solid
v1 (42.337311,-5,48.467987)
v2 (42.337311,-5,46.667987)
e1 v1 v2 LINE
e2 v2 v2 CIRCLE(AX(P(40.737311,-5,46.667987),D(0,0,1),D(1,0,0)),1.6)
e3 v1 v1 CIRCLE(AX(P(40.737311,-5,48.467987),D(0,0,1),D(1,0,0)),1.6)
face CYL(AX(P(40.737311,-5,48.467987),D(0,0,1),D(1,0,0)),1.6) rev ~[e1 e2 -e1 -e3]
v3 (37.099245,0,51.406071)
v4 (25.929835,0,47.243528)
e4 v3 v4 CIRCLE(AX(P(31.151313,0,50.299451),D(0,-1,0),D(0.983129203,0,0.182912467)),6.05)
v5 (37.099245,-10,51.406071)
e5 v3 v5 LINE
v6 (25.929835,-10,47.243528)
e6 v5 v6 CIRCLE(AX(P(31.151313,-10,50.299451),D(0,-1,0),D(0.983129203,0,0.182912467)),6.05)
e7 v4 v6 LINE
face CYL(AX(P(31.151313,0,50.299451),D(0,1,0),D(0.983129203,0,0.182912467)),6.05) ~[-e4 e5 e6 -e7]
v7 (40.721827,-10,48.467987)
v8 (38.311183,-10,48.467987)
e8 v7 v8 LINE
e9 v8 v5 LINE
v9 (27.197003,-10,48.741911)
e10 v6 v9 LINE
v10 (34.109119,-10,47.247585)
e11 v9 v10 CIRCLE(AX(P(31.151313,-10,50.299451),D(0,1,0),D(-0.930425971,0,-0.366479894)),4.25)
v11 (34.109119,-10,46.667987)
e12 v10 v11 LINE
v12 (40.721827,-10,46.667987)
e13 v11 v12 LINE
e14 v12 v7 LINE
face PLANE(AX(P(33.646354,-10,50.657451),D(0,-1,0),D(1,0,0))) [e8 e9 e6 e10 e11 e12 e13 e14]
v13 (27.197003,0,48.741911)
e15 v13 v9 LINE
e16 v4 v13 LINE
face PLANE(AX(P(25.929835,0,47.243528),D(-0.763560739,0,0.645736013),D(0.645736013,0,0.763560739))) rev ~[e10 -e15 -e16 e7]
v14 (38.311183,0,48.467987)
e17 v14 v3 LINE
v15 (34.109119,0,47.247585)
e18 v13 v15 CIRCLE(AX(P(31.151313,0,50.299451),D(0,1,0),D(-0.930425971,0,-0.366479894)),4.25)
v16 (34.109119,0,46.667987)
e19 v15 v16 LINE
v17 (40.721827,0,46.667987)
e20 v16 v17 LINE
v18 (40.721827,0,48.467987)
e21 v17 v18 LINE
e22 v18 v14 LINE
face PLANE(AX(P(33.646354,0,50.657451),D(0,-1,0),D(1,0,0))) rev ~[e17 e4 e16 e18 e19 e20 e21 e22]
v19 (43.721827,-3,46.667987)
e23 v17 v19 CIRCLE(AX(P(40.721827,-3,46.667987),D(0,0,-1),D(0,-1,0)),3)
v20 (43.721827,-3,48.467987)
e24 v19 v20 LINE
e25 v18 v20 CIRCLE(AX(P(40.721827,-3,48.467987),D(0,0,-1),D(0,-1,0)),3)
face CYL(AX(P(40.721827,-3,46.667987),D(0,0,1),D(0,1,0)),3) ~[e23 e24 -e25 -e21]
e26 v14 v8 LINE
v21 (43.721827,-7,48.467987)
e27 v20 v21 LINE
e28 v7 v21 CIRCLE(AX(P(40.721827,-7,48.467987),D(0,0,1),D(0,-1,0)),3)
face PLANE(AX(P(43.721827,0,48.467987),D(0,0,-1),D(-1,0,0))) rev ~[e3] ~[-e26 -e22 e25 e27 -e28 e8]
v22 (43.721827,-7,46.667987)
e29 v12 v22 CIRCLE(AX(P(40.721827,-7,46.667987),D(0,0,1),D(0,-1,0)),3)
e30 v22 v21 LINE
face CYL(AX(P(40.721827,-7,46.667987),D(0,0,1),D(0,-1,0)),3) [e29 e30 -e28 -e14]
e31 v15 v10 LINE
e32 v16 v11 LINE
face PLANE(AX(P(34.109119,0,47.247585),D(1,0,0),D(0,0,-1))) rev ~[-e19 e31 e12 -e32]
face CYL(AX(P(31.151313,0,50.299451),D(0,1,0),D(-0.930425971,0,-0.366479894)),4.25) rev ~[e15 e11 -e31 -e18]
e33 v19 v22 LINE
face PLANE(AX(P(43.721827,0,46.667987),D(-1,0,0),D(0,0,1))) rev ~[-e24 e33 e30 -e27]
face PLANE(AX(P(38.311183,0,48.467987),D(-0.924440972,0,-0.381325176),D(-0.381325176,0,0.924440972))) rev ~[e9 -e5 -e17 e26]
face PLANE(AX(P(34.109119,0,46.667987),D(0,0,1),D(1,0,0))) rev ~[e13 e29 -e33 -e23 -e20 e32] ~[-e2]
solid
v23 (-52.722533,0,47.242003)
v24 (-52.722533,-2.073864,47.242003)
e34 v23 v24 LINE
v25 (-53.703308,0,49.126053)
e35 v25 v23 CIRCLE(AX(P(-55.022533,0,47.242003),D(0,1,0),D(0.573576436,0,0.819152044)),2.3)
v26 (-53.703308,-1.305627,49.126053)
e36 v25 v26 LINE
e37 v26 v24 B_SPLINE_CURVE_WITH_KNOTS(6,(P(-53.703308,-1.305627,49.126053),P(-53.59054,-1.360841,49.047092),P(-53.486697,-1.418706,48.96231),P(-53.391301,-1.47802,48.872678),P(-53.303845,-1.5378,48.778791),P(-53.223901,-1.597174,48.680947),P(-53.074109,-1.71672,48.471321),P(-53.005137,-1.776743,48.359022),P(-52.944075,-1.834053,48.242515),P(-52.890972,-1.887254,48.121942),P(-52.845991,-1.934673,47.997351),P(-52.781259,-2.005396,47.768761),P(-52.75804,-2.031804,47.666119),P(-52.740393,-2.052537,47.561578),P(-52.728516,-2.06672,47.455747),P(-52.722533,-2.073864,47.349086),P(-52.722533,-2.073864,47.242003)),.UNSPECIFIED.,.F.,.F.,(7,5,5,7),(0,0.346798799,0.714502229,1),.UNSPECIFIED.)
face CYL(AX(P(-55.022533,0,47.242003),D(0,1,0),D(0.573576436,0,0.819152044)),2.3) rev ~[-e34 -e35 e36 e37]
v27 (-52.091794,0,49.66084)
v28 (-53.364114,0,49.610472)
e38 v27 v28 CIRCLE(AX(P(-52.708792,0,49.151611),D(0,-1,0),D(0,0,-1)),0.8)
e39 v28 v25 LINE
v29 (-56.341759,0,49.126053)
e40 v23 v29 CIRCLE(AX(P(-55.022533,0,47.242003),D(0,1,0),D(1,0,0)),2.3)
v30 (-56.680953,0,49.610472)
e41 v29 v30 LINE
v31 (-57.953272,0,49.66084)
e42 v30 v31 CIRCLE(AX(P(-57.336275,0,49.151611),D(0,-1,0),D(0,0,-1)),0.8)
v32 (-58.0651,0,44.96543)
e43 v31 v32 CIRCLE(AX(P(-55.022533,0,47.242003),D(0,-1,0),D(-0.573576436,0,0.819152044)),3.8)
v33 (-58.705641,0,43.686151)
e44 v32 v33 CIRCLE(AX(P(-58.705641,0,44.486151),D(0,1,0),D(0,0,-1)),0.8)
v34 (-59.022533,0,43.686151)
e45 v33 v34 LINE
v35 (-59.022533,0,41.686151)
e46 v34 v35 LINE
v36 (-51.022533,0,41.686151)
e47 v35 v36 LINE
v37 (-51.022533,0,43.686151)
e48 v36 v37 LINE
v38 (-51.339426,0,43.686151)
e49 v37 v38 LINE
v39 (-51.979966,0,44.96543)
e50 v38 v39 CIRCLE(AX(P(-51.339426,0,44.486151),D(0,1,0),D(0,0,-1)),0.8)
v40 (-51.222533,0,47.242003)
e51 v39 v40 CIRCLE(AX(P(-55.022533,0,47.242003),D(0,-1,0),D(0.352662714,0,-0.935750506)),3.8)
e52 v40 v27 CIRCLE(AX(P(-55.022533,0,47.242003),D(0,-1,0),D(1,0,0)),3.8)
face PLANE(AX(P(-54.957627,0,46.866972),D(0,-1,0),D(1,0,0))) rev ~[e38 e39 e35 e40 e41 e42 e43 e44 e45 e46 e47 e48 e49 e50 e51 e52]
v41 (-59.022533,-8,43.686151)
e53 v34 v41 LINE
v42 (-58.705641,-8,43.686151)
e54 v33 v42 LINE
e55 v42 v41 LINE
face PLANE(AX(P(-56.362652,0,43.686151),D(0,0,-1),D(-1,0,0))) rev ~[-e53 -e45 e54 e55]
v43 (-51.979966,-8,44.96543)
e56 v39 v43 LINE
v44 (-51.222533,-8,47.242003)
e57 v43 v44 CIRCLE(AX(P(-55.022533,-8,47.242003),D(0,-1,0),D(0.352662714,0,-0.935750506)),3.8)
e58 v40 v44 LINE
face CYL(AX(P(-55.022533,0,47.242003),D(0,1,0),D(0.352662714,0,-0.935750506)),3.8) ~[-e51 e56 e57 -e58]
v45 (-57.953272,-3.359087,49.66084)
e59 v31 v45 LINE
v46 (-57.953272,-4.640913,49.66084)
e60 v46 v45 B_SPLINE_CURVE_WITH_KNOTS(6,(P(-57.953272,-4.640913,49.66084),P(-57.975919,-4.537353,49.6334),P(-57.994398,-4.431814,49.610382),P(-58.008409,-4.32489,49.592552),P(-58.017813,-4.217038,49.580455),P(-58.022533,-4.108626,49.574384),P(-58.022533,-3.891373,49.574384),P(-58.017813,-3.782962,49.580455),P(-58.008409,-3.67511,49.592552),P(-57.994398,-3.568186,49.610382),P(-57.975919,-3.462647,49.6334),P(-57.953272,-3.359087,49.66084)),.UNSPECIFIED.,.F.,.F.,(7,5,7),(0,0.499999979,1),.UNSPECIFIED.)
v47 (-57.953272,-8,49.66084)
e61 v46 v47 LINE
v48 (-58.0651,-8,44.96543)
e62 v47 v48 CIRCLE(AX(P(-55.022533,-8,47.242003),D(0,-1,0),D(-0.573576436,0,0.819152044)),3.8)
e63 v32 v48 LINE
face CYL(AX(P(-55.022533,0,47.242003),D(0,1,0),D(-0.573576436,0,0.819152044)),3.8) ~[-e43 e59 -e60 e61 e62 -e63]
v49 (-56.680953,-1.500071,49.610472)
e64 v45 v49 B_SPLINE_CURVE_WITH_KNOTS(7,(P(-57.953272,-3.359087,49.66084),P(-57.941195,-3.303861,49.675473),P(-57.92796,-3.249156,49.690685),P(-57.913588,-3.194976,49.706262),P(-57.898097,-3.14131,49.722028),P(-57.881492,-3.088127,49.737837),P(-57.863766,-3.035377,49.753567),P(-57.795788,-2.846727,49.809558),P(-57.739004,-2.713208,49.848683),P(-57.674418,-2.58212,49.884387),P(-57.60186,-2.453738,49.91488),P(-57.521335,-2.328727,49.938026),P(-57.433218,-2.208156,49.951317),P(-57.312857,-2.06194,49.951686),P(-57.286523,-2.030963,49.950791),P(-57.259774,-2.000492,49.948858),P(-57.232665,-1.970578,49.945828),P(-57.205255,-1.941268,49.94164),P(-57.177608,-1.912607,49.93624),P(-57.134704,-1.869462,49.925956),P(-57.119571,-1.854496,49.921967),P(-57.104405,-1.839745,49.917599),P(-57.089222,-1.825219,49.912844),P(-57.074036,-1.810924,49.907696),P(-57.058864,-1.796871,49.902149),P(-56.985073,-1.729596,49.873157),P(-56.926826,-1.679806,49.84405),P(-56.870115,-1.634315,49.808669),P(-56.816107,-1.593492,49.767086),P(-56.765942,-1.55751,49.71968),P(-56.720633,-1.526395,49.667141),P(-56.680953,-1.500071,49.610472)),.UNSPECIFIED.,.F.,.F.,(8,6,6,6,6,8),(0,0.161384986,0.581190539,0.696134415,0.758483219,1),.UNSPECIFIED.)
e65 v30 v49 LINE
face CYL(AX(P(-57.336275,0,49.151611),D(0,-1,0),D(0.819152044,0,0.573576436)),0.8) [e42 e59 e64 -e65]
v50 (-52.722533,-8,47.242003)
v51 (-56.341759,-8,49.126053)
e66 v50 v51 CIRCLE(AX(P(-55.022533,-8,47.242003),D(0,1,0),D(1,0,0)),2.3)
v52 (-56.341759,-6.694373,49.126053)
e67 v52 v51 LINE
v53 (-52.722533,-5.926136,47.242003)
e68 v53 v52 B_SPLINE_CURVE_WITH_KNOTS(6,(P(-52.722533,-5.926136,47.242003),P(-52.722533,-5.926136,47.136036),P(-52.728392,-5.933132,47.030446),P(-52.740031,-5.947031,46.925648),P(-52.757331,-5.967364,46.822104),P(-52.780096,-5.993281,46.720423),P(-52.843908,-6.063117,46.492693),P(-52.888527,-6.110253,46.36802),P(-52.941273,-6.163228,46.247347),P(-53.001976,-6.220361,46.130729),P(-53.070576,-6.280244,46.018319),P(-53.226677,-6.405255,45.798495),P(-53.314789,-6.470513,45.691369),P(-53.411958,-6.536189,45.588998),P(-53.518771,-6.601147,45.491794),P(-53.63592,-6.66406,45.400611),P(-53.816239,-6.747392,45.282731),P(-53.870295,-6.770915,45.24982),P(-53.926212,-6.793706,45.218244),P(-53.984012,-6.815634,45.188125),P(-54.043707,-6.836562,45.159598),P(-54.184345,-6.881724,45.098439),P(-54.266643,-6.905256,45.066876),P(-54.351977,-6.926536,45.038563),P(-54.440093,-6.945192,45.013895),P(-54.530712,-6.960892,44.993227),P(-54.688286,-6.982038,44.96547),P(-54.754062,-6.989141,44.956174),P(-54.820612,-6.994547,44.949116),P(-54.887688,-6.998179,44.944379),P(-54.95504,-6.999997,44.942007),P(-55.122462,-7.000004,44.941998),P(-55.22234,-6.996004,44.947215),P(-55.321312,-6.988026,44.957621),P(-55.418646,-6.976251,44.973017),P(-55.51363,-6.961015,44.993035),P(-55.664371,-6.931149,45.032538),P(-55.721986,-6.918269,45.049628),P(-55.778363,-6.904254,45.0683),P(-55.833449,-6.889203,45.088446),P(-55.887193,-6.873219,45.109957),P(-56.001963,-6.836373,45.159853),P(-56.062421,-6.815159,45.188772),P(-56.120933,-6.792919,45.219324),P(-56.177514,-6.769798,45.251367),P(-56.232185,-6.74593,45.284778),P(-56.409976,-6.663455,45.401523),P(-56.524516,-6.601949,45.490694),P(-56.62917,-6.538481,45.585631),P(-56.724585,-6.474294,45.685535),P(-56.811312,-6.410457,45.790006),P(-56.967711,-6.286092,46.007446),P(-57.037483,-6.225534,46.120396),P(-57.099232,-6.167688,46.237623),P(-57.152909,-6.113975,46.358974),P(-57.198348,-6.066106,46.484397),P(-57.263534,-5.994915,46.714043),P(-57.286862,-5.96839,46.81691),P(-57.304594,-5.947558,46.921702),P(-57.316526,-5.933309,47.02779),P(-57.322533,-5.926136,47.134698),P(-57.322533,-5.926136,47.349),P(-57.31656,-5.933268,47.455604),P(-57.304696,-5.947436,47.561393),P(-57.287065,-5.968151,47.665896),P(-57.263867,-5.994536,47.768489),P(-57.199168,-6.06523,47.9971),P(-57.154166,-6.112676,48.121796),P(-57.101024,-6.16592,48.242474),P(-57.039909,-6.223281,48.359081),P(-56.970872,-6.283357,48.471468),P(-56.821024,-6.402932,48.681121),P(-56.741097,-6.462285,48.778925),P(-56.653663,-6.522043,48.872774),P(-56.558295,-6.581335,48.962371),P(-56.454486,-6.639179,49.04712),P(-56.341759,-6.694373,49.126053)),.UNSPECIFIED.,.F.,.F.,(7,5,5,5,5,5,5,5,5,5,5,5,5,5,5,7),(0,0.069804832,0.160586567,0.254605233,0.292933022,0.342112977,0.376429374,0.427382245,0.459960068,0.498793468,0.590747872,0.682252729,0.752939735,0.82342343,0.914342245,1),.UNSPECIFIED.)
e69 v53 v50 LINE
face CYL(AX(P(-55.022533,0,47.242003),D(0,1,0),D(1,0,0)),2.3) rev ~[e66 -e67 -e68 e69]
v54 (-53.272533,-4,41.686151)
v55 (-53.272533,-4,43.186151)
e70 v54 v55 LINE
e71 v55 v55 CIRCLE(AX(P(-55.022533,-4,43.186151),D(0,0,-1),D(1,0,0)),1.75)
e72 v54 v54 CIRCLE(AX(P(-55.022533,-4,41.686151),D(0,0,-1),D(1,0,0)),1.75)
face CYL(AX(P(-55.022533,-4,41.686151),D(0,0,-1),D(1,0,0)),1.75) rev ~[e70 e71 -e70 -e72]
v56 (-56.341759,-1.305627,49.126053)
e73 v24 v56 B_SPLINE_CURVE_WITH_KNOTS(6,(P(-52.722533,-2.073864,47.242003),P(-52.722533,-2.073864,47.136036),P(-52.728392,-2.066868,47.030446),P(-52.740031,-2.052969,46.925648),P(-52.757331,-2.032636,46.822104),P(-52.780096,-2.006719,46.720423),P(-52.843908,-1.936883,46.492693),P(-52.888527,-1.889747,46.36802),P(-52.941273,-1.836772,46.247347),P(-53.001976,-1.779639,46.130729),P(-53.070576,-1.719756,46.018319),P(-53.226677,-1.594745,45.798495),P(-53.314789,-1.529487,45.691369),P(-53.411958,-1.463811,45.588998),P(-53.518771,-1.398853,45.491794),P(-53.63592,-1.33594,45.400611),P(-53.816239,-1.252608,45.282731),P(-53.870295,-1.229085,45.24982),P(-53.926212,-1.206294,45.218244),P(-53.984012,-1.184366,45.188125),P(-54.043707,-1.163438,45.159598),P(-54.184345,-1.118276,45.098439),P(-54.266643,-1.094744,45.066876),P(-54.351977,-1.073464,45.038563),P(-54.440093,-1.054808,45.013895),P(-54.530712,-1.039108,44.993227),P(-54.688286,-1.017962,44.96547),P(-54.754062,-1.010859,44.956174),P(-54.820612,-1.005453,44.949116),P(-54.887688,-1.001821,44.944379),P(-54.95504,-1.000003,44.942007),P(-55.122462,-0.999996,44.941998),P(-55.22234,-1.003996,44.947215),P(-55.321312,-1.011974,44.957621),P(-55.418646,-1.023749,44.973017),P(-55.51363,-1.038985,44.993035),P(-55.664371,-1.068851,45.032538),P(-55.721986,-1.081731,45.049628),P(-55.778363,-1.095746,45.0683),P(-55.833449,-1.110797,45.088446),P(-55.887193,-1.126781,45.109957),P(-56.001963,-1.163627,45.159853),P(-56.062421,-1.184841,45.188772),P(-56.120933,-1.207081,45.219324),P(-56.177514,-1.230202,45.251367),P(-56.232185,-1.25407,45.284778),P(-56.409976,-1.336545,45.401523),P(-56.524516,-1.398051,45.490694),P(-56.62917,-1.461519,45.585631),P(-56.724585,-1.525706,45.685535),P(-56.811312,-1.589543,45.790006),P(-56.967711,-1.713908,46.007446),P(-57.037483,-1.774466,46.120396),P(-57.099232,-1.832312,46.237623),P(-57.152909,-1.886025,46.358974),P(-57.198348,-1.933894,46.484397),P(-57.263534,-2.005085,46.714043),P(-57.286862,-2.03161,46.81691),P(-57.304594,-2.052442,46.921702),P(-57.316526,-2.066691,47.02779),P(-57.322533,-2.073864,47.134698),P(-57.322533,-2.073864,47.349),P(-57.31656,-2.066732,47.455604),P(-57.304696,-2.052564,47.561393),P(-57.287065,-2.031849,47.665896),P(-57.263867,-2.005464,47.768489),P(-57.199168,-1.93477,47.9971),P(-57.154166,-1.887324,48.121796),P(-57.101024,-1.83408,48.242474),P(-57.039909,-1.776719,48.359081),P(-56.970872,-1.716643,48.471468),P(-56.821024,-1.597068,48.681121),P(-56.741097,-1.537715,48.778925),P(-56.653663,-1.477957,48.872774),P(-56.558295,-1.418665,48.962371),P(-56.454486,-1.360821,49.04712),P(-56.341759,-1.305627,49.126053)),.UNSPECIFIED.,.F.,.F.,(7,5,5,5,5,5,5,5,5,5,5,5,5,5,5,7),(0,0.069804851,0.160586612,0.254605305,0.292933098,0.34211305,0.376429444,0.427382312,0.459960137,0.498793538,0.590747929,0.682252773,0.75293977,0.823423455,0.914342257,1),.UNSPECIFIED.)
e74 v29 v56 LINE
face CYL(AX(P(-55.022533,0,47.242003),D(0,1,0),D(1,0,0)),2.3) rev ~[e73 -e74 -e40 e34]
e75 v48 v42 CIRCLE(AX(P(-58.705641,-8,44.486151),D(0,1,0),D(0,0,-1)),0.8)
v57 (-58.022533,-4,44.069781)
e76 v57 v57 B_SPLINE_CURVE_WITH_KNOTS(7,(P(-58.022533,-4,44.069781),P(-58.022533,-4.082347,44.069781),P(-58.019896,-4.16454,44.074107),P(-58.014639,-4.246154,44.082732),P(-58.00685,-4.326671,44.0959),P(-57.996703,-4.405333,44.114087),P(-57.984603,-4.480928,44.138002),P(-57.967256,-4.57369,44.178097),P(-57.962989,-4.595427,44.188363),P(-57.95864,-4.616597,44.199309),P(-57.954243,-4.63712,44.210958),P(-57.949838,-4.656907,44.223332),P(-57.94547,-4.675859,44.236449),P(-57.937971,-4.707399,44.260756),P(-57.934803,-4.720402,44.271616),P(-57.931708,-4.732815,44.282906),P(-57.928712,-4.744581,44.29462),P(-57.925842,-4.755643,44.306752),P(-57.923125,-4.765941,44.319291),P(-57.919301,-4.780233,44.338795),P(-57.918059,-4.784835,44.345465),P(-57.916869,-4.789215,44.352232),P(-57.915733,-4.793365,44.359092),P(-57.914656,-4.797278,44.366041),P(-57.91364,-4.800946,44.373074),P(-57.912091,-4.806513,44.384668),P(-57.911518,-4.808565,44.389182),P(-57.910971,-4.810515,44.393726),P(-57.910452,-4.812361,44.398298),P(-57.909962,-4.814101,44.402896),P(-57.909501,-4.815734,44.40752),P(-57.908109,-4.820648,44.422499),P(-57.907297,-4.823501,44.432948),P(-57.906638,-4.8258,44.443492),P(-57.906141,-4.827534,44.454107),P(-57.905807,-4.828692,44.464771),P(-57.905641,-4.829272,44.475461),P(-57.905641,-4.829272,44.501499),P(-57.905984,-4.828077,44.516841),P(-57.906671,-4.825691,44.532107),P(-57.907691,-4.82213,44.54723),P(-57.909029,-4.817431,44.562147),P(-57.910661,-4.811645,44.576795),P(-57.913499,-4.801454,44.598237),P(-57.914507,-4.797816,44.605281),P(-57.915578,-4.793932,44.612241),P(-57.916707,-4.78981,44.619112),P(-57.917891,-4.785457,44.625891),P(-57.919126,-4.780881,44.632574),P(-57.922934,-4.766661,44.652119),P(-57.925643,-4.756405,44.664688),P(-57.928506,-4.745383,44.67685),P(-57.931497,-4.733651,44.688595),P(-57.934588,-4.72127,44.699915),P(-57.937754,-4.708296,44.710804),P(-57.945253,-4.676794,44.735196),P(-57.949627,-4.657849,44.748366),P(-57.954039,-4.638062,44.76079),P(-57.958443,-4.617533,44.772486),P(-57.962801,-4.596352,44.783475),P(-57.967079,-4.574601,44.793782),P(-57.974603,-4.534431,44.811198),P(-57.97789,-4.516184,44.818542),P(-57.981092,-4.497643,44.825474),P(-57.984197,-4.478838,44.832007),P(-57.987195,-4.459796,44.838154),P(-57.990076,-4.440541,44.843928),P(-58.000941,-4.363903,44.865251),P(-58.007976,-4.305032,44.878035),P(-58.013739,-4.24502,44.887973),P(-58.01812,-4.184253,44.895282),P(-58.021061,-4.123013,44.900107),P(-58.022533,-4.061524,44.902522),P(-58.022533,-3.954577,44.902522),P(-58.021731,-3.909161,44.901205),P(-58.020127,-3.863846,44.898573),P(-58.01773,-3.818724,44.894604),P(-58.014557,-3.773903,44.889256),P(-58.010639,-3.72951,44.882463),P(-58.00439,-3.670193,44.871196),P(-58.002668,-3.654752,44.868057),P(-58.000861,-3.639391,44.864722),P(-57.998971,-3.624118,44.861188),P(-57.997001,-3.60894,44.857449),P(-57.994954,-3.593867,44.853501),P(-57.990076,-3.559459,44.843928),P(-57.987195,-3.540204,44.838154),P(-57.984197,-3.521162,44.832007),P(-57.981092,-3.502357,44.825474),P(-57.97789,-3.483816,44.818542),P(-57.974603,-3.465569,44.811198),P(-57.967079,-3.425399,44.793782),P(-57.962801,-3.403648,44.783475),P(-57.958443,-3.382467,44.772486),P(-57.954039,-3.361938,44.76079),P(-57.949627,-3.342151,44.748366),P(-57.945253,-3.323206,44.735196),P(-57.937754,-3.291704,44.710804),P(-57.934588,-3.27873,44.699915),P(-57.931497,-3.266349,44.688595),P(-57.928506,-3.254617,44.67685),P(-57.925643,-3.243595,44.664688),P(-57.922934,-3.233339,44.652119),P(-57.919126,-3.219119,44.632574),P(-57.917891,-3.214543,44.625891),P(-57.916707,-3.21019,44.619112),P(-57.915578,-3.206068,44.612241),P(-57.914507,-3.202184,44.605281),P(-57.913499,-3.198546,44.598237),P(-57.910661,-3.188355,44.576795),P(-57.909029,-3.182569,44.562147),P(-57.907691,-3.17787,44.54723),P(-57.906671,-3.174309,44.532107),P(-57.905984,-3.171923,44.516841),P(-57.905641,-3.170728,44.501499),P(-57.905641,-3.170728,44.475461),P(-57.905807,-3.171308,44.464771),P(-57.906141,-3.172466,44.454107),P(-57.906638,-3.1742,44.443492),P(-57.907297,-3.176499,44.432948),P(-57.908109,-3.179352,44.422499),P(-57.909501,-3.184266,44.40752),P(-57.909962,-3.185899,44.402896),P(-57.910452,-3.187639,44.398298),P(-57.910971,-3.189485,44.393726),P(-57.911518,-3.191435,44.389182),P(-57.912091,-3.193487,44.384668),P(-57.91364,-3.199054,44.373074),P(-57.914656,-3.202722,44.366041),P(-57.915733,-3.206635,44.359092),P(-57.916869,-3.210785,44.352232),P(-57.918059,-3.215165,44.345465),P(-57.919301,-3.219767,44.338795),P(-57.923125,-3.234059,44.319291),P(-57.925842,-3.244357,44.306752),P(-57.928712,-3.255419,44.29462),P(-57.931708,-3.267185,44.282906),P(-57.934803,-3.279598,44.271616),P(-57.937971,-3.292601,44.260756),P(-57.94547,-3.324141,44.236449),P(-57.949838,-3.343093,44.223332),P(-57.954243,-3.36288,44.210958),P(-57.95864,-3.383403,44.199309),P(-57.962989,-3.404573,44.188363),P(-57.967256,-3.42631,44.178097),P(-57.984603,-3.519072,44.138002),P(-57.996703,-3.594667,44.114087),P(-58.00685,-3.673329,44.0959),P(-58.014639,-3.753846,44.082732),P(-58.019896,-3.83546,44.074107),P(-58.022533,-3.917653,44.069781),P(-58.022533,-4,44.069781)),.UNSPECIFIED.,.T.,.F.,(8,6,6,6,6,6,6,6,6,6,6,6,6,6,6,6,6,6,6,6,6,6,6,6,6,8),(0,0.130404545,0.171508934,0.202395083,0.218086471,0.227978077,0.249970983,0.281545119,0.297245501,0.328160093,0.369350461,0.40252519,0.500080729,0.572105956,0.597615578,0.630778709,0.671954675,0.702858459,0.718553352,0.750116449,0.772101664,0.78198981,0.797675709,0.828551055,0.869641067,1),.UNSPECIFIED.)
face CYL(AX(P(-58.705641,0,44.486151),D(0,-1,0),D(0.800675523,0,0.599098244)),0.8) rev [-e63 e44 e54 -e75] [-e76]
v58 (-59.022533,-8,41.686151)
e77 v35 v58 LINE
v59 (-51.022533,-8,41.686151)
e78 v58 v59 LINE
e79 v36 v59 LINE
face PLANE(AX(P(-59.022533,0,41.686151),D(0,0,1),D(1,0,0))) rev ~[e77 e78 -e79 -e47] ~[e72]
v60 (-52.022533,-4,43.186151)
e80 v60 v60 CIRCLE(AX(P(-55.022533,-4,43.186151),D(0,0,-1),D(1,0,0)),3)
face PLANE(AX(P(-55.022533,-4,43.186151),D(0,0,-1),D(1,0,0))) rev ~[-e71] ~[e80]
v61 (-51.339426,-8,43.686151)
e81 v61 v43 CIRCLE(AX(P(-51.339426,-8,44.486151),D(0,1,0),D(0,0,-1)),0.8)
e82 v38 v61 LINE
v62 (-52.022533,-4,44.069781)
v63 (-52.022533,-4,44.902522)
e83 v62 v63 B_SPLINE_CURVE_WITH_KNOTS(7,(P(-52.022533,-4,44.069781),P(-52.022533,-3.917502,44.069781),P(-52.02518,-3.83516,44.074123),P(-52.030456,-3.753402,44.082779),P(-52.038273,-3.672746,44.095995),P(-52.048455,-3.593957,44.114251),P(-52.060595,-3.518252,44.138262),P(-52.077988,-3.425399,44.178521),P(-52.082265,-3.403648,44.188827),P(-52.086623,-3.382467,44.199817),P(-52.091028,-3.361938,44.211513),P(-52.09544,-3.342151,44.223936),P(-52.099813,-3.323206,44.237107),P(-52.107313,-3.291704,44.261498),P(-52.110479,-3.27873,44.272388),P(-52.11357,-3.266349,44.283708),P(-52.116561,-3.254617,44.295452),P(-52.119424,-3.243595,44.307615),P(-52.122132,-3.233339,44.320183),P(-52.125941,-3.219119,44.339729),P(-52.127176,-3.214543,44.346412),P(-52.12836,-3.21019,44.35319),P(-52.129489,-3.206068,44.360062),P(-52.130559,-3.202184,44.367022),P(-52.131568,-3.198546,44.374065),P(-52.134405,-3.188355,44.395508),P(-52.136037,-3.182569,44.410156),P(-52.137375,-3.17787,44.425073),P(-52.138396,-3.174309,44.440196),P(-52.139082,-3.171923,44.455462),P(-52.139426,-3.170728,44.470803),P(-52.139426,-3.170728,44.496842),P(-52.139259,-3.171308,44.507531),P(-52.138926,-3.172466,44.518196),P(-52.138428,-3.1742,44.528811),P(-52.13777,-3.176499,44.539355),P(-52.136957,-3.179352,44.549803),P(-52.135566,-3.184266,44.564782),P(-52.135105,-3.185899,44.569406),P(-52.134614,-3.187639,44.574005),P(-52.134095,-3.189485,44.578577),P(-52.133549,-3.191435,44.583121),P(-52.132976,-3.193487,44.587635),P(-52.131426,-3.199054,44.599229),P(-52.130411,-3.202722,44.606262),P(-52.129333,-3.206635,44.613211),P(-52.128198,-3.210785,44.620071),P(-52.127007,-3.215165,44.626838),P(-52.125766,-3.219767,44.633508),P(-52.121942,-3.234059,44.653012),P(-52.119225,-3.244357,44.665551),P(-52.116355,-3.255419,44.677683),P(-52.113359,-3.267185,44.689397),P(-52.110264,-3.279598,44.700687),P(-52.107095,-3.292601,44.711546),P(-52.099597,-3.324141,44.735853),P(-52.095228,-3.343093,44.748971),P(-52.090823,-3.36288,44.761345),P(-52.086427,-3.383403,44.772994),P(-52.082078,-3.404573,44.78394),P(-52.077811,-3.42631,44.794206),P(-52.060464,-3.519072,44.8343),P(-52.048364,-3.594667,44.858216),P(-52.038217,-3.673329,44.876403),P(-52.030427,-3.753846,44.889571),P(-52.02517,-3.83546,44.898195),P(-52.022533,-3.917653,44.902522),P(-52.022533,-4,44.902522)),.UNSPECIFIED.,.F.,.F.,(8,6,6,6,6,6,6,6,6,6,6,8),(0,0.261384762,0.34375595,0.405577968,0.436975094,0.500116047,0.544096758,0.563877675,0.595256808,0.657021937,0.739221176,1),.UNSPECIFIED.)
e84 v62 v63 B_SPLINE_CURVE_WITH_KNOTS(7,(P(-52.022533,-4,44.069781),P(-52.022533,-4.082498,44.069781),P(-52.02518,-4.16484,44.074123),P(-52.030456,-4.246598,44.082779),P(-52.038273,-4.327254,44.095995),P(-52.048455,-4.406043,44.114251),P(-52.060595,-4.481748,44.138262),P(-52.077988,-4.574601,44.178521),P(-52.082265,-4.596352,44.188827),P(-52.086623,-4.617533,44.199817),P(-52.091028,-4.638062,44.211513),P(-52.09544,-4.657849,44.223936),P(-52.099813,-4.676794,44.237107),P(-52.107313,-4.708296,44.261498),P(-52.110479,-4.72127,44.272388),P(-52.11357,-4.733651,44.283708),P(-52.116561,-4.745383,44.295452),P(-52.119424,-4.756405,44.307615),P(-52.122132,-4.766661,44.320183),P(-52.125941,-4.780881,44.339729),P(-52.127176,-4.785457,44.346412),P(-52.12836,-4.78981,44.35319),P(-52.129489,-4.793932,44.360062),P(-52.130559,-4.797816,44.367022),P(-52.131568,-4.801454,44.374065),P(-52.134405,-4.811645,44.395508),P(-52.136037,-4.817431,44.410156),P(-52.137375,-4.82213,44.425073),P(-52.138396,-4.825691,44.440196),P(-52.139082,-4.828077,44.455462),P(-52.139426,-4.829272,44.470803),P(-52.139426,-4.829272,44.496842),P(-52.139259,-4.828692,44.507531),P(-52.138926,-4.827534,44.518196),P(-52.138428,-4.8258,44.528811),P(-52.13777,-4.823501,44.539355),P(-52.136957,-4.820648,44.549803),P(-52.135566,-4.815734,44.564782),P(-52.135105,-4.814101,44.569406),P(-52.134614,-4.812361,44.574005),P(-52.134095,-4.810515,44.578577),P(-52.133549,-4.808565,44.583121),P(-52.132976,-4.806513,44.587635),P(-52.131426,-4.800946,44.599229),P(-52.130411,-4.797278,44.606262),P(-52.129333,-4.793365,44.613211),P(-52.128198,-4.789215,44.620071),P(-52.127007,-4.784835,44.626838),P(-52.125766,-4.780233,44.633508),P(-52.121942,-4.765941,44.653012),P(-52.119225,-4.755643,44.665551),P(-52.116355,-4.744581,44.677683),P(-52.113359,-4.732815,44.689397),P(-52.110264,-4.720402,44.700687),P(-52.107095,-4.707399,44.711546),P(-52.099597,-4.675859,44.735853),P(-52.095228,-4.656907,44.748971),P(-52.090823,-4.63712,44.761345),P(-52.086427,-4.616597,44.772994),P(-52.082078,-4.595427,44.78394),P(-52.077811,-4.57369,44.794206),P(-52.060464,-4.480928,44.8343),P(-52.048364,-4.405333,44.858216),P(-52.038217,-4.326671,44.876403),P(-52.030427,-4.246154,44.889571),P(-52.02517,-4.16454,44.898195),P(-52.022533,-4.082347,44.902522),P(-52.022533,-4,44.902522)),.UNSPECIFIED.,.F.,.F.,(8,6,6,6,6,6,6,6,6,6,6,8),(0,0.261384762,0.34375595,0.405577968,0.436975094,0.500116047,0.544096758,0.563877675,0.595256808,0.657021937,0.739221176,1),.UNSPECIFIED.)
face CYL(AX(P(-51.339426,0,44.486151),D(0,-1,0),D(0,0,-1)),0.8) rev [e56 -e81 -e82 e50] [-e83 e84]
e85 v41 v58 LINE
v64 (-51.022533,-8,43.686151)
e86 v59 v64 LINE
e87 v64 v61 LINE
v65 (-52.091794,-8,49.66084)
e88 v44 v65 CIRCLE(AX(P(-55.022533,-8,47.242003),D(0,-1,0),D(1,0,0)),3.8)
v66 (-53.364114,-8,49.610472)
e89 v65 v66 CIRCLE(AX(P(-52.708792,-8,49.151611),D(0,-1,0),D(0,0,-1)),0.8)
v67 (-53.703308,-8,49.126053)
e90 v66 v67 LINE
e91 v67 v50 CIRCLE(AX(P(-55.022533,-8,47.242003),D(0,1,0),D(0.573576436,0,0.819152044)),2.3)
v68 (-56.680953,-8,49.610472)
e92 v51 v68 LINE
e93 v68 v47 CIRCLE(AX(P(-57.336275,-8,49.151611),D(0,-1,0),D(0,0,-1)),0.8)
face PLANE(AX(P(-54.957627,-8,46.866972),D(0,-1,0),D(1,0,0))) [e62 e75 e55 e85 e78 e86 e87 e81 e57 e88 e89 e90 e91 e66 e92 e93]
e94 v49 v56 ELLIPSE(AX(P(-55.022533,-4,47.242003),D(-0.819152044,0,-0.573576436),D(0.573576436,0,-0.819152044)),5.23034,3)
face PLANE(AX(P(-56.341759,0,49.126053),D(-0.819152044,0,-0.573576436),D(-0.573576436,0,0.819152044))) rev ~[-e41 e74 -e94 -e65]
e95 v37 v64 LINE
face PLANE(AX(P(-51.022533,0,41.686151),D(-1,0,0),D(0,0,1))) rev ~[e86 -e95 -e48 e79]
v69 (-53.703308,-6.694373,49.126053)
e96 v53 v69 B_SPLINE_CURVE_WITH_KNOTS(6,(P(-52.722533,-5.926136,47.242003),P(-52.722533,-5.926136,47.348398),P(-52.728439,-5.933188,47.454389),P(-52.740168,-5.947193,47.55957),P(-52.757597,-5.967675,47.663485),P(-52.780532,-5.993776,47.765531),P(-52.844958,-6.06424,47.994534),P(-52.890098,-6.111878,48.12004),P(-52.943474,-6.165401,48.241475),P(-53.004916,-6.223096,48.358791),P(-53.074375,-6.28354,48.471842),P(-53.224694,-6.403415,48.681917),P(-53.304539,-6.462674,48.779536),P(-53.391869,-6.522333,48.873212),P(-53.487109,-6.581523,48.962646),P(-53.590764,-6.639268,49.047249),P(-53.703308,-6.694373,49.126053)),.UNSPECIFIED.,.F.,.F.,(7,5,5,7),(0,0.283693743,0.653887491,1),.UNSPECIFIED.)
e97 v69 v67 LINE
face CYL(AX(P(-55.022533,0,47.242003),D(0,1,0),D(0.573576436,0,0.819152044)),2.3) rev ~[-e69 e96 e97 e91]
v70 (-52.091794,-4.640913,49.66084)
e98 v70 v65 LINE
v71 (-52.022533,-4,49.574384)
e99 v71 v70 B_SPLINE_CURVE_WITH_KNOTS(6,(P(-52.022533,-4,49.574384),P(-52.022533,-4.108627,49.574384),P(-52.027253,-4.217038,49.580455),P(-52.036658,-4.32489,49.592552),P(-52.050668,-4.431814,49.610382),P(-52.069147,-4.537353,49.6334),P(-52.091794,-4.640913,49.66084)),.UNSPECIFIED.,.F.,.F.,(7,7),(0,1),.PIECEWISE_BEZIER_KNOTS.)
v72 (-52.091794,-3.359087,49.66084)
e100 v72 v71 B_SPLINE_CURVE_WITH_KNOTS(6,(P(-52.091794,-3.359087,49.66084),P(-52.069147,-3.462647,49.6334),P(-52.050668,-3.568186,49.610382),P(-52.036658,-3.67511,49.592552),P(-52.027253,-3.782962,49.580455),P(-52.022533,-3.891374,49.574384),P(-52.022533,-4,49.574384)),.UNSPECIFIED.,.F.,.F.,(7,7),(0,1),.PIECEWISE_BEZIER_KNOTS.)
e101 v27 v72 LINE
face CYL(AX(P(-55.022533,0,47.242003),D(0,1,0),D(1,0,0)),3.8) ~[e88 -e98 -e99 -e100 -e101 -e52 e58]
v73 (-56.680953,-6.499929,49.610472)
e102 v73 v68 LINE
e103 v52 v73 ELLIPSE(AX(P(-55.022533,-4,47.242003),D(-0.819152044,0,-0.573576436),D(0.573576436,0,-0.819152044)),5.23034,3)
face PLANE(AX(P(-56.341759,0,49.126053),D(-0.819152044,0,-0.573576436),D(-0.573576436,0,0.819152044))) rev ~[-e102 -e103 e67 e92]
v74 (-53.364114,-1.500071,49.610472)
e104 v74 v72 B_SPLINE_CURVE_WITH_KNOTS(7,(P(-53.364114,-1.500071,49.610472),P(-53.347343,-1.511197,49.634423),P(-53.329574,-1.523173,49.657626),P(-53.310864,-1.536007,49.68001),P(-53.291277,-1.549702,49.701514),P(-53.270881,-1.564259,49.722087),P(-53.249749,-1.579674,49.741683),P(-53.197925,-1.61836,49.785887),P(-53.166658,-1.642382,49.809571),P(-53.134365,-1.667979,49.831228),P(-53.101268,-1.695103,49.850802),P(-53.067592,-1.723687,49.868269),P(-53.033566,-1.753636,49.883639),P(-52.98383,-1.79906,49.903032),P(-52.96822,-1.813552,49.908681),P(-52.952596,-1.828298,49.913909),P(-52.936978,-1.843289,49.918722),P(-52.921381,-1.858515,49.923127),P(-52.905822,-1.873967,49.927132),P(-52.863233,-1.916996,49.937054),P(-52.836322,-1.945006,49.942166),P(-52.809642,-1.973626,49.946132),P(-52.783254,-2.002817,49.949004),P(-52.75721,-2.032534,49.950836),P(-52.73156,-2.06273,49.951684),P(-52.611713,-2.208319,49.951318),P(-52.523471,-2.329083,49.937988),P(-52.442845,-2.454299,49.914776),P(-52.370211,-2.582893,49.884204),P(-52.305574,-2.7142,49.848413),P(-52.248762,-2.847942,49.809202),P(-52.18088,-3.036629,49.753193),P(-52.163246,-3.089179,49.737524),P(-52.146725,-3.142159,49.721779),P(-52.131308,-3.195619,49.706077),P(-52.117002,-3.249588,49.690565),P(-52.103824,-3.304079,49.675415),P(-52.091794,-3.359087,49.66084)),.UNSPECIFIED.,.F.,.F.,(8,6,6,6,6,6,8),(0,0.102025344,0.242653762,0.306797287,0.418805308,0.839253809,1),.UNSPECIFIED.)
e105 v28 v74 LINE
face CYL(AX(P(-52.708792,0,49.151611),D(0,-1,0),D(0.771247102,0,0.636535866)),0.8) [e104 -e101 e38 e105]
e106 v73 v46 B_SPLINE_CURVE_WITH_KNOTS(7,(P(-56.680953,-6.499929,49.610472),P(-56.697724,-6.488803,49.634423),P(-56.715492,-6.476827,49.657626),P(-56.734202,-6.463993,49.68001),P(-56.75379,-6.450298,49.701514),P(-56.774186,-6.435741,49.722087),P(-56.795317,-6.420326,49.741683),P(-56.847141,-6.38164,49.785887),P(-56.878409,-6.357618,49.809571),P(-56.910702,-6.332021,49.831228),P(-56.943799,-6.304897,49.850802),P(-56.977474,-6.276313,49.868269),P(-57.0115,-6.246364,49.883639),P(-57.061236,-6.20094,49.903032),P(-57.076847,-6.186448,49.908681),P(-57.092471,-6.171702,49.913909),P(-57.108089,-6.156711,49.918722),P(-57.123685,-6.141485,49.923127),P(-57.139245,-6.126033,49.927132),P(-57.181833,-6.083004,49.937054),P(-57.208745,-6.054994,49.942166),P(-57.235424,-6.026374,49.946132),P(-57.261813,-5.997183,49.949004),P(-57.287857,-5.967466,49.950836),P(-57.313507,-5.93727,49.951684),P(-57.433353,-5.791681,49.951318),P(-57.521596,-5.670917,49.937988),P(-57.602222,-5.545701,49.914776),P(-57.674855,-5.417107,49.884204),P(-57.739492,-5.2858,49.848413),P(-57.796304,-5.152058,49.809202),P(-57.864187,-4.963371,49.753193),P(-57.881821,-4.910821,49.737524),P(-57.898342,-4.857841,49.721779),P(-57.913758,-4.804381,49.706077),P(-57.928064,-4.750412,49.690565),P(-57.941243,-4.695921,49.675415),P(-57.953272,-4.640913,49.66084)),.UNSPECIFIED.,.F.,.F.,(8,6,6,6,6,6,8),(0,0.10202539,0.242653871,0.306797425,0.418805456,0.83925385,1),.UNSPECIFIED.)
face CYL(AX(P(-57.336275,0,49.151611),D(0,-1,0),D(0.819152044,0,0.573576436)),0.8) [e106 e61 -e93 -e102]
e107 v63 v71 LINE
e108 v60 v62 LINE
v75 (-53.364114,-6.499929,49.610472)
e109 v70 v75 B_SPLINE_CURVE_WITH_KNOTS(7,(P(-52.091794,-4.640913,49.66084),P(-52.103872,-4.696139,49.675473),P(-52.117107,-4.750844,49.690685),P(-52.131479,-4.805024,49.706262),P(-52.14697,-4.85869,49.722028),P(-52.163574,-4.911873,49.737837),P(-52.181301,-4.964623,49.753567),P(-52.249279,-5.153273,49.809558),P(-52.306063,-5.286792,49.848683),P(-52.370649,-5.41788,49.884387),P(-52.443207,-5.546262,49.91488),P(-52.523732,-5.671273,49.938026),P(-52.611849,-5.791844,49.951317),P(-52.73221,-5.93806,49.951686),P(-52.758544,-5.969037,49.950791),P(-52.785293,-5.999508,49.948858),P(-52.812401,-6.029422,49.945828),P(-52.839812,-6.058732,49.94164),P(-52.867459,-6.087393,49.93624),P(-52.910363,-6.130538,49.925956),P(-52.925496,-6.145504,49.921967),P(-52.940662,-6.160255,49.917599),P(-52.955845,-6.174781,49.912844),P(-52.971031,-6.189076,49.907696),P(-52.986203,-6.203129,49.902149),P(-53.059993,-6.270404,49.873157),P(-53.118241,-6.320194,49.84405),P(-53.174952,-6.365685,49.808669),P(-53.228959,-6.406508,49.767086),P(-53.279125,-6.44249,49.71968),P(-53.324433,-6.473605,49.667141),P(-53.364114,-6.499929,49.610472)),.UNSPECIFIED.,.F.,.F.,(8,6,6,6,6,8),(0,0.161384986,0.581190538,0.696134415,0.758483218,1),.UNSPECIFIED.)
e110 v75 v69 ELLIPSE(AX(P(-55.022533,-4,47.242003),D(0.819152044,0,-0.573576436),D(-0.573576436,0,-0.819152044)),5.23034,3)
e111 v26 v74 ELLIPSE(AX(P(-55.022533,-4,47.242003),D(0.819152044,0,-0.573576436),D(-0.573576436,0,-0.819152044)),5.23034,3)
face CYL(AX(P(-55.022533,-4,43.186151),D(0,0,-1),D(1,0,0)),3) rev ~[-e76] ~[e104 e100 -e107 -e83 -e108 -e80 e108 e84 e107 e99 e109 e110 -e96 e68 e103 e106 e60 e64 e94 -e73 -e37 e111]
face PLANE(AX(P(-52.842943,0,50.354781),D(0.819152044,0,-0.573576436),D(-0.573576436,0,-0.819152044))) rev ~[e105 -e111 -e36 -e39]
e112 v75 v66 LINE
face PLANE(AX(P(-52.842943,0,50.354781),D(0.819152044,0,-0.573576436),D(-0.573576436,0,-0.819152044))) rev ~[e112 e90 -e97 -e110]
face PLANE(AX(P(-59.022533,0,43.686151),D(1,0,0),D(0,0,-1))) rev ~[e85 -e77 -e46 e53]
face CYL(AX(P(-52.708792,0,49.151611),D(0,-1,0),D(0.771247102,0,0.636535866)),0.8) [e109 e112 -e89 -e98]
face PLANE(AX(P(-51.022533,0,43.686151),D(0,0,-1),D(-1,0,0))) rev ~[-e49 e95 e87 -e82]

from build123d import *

# Parameters (mm, degrees)
F1_DEPTH = 8
F2_R     = 0.8
F3_R     = 1.75
F4_DEPTH = 8.266459521
F5_START = -1.5
F3_R_2   = 3
F5_DEPTH = 13.5
F7_DEPTH = 10
F8_R     = 1.6
F9_DEPTH = 6.7828354428
F10_R    = 3


with BuildPart() as f1:
    # F0 (on Front) → F1 (new body)
    with BuildSketch(Plane.XZ):
        with BuildLine():
            ThreePointArc((-53.7033075237, 49.1260529639), (-52.982408411, 48.3040250725), (-52.7225333273, 47.242003262))
            ThreePointArc((-52.7225333273, 47.242003262), (-56.0845551378, 45.2018783457), (-56.3417591309, 49.1260529639))
            Line((-56.3417591309, 49.1260529639), (-57.2021237855, 50.3547810303))
            ThreePointArc((-57.2021237855, 50.3547810303), (-58.7927777428, 46.7673907382), (-56.3626516399, 43.6861513376))
            Line((-56.3626516399, 43.6861513376), (-53.6824150148, 43.6861513376))
            ThreePointArc((-53.6824150148, 43.6861513376), (-51.8974373618, 45.0801116815), (-51.2225333273, 47.242003262))
            ThreePointArc((-51.2225333273, 47.242003262), (-51.6518921613, 48.9966479923), (-52.8429428692, 50.3547810303))
            Line((-52.8429428692, 50.3547810303), (-53.7033075237, 49.1260529639))
        make_face()
        with BuildLine():
            ThreePointArc((-53.6824150148, 43.6861513376), (-55.0225333273, 43.442003262), (-56.3626516399, 43.6861513376))
            Line((-56.3626516399, 43.6861513376), (-59.0225333273, 43.6861513376))
            Line((-59.0225333273, 43.6861513376), (-59.0225333273, 41.6861513376))
            Line((-59.0225333273, 41.6861513376), (-51.0225333273, 41.6861513376))
            Line((-51.0225333273, 41.6861513376), (-51.0225333273, 43.6861513376))
            Line((-51.0225333273, 43.6861513376), (-53.6824150148, 43.6861513376))
        make_face()
        with BuildLine():
            Line((-53.6824150148, 43.6861513376), (-56.3626516399, 43.6861513376))
            ThreePointArc((-56.3626516399, 43.6861513376), (-55.0225333273, 43.442003262), (-53.6824150148, 43.6861513376))
        make_face()
    extrude(amount=F1_DEPTH)

    # F2
    f2_edges = [f1.edges().sort_by_distance(p)[0] for p in [
        (-56.362652, -4, 43.686151),
        (-53.682415, -4, 43.686151),
        (-57.202124, -4, 50.354781),
        (-52.842943, -4, 50.354781),
    ]]
    fillet(f2_edges, radius=F2_R)

    # F3 (on face) → F4 (cut, through all)
    with BuildSketch(Plane(origin=(0, 0, 41.6861513376), x_dir=(1, 0, 0), z_dir=(0, 0, -1))):
        with Locations((-55.0225333273, 4)):
            Circle(F3_R)
    extrude(amount=-F4_DEPTH, mode=Mode.SUBTRACT)

    # F3 (on face) → F5 (cut)
    with BuildSketch(Plane(origin=(0, 0, 41.6861513376), x_dir=(1, 0, 0), z_dir=(0, 0, -1)).offset(F5_START)):
        with Locations((-55.0225333273, 4)):
            Circle(F3_R_2)
        with Locations((-55.0225333273, 4)):
            Circle(F3_R, mode=Mode.SUBTRACT)
    extrude(amount=-F5_DEPTH, mode=Mode.SUBTRACT)


with BuildPart() as f7:
    # F6 (on Front) → F7 (new body)
    with BuildSketch(Plane.XZ):
        with BuildLine():
            ThreePointArc((27.1970029577, 48.7419112075), (32.0493710779, 54.4534840109), (34.1091194362, 47.2475852492))
            Line((34.1091194362, 47.2475852492), (34.1091194362, 46.6679867804))
            Line((34.1091194362, 46.6679867804), (35.6683470309, 46.6679867804))
            Line((35.6683470309, 46.6679867804), (37.9846775437, 46.6679867804))
            Line((37.9846775437, 46.6679867804), (43.7218266428, 46.6679867804))
            Line((43.7218266428, 46.6679867804), (43.7218266428, 48.4679867804))
            Line((43.7218266428, 48.4679867804), (38.3111834526, 48.4679867804))
            Line((38.3111834526, 48.4679867804), (37.0992450122, 51.4060711779))
            ThreePointArc((37.0992450122, 51.4060711779), (29.0385841912, 55.9685666973), (25.9298348349, 47.2435282633))
            Line((25.9298348349, 47.2435282633), (27.1970029577, 48.7419112075))
        make_face()
    extrude(amount=F7_DEPTH)

    # F8 (on face) → F9 (cut, through all)
    with BuildSketch(Plane.XY.offset(48.4679867804)):
        with Locations((40.7373113036, -5)):
            Circle(F8_R)
    extrude(amount=-F9_DEPTH, mode=Mode.SUBTRACT)

    # F10
    f10_edges = [f7.edges().sort_by_distance(p)[0] for p in [
        (43.721827, -10, 47.567987),
        (43.721827, 0, 47.567987),
    ]]
    fillet(f10_edges, radius=F10_R)


solid = Compound([f1.part, f7.part])
